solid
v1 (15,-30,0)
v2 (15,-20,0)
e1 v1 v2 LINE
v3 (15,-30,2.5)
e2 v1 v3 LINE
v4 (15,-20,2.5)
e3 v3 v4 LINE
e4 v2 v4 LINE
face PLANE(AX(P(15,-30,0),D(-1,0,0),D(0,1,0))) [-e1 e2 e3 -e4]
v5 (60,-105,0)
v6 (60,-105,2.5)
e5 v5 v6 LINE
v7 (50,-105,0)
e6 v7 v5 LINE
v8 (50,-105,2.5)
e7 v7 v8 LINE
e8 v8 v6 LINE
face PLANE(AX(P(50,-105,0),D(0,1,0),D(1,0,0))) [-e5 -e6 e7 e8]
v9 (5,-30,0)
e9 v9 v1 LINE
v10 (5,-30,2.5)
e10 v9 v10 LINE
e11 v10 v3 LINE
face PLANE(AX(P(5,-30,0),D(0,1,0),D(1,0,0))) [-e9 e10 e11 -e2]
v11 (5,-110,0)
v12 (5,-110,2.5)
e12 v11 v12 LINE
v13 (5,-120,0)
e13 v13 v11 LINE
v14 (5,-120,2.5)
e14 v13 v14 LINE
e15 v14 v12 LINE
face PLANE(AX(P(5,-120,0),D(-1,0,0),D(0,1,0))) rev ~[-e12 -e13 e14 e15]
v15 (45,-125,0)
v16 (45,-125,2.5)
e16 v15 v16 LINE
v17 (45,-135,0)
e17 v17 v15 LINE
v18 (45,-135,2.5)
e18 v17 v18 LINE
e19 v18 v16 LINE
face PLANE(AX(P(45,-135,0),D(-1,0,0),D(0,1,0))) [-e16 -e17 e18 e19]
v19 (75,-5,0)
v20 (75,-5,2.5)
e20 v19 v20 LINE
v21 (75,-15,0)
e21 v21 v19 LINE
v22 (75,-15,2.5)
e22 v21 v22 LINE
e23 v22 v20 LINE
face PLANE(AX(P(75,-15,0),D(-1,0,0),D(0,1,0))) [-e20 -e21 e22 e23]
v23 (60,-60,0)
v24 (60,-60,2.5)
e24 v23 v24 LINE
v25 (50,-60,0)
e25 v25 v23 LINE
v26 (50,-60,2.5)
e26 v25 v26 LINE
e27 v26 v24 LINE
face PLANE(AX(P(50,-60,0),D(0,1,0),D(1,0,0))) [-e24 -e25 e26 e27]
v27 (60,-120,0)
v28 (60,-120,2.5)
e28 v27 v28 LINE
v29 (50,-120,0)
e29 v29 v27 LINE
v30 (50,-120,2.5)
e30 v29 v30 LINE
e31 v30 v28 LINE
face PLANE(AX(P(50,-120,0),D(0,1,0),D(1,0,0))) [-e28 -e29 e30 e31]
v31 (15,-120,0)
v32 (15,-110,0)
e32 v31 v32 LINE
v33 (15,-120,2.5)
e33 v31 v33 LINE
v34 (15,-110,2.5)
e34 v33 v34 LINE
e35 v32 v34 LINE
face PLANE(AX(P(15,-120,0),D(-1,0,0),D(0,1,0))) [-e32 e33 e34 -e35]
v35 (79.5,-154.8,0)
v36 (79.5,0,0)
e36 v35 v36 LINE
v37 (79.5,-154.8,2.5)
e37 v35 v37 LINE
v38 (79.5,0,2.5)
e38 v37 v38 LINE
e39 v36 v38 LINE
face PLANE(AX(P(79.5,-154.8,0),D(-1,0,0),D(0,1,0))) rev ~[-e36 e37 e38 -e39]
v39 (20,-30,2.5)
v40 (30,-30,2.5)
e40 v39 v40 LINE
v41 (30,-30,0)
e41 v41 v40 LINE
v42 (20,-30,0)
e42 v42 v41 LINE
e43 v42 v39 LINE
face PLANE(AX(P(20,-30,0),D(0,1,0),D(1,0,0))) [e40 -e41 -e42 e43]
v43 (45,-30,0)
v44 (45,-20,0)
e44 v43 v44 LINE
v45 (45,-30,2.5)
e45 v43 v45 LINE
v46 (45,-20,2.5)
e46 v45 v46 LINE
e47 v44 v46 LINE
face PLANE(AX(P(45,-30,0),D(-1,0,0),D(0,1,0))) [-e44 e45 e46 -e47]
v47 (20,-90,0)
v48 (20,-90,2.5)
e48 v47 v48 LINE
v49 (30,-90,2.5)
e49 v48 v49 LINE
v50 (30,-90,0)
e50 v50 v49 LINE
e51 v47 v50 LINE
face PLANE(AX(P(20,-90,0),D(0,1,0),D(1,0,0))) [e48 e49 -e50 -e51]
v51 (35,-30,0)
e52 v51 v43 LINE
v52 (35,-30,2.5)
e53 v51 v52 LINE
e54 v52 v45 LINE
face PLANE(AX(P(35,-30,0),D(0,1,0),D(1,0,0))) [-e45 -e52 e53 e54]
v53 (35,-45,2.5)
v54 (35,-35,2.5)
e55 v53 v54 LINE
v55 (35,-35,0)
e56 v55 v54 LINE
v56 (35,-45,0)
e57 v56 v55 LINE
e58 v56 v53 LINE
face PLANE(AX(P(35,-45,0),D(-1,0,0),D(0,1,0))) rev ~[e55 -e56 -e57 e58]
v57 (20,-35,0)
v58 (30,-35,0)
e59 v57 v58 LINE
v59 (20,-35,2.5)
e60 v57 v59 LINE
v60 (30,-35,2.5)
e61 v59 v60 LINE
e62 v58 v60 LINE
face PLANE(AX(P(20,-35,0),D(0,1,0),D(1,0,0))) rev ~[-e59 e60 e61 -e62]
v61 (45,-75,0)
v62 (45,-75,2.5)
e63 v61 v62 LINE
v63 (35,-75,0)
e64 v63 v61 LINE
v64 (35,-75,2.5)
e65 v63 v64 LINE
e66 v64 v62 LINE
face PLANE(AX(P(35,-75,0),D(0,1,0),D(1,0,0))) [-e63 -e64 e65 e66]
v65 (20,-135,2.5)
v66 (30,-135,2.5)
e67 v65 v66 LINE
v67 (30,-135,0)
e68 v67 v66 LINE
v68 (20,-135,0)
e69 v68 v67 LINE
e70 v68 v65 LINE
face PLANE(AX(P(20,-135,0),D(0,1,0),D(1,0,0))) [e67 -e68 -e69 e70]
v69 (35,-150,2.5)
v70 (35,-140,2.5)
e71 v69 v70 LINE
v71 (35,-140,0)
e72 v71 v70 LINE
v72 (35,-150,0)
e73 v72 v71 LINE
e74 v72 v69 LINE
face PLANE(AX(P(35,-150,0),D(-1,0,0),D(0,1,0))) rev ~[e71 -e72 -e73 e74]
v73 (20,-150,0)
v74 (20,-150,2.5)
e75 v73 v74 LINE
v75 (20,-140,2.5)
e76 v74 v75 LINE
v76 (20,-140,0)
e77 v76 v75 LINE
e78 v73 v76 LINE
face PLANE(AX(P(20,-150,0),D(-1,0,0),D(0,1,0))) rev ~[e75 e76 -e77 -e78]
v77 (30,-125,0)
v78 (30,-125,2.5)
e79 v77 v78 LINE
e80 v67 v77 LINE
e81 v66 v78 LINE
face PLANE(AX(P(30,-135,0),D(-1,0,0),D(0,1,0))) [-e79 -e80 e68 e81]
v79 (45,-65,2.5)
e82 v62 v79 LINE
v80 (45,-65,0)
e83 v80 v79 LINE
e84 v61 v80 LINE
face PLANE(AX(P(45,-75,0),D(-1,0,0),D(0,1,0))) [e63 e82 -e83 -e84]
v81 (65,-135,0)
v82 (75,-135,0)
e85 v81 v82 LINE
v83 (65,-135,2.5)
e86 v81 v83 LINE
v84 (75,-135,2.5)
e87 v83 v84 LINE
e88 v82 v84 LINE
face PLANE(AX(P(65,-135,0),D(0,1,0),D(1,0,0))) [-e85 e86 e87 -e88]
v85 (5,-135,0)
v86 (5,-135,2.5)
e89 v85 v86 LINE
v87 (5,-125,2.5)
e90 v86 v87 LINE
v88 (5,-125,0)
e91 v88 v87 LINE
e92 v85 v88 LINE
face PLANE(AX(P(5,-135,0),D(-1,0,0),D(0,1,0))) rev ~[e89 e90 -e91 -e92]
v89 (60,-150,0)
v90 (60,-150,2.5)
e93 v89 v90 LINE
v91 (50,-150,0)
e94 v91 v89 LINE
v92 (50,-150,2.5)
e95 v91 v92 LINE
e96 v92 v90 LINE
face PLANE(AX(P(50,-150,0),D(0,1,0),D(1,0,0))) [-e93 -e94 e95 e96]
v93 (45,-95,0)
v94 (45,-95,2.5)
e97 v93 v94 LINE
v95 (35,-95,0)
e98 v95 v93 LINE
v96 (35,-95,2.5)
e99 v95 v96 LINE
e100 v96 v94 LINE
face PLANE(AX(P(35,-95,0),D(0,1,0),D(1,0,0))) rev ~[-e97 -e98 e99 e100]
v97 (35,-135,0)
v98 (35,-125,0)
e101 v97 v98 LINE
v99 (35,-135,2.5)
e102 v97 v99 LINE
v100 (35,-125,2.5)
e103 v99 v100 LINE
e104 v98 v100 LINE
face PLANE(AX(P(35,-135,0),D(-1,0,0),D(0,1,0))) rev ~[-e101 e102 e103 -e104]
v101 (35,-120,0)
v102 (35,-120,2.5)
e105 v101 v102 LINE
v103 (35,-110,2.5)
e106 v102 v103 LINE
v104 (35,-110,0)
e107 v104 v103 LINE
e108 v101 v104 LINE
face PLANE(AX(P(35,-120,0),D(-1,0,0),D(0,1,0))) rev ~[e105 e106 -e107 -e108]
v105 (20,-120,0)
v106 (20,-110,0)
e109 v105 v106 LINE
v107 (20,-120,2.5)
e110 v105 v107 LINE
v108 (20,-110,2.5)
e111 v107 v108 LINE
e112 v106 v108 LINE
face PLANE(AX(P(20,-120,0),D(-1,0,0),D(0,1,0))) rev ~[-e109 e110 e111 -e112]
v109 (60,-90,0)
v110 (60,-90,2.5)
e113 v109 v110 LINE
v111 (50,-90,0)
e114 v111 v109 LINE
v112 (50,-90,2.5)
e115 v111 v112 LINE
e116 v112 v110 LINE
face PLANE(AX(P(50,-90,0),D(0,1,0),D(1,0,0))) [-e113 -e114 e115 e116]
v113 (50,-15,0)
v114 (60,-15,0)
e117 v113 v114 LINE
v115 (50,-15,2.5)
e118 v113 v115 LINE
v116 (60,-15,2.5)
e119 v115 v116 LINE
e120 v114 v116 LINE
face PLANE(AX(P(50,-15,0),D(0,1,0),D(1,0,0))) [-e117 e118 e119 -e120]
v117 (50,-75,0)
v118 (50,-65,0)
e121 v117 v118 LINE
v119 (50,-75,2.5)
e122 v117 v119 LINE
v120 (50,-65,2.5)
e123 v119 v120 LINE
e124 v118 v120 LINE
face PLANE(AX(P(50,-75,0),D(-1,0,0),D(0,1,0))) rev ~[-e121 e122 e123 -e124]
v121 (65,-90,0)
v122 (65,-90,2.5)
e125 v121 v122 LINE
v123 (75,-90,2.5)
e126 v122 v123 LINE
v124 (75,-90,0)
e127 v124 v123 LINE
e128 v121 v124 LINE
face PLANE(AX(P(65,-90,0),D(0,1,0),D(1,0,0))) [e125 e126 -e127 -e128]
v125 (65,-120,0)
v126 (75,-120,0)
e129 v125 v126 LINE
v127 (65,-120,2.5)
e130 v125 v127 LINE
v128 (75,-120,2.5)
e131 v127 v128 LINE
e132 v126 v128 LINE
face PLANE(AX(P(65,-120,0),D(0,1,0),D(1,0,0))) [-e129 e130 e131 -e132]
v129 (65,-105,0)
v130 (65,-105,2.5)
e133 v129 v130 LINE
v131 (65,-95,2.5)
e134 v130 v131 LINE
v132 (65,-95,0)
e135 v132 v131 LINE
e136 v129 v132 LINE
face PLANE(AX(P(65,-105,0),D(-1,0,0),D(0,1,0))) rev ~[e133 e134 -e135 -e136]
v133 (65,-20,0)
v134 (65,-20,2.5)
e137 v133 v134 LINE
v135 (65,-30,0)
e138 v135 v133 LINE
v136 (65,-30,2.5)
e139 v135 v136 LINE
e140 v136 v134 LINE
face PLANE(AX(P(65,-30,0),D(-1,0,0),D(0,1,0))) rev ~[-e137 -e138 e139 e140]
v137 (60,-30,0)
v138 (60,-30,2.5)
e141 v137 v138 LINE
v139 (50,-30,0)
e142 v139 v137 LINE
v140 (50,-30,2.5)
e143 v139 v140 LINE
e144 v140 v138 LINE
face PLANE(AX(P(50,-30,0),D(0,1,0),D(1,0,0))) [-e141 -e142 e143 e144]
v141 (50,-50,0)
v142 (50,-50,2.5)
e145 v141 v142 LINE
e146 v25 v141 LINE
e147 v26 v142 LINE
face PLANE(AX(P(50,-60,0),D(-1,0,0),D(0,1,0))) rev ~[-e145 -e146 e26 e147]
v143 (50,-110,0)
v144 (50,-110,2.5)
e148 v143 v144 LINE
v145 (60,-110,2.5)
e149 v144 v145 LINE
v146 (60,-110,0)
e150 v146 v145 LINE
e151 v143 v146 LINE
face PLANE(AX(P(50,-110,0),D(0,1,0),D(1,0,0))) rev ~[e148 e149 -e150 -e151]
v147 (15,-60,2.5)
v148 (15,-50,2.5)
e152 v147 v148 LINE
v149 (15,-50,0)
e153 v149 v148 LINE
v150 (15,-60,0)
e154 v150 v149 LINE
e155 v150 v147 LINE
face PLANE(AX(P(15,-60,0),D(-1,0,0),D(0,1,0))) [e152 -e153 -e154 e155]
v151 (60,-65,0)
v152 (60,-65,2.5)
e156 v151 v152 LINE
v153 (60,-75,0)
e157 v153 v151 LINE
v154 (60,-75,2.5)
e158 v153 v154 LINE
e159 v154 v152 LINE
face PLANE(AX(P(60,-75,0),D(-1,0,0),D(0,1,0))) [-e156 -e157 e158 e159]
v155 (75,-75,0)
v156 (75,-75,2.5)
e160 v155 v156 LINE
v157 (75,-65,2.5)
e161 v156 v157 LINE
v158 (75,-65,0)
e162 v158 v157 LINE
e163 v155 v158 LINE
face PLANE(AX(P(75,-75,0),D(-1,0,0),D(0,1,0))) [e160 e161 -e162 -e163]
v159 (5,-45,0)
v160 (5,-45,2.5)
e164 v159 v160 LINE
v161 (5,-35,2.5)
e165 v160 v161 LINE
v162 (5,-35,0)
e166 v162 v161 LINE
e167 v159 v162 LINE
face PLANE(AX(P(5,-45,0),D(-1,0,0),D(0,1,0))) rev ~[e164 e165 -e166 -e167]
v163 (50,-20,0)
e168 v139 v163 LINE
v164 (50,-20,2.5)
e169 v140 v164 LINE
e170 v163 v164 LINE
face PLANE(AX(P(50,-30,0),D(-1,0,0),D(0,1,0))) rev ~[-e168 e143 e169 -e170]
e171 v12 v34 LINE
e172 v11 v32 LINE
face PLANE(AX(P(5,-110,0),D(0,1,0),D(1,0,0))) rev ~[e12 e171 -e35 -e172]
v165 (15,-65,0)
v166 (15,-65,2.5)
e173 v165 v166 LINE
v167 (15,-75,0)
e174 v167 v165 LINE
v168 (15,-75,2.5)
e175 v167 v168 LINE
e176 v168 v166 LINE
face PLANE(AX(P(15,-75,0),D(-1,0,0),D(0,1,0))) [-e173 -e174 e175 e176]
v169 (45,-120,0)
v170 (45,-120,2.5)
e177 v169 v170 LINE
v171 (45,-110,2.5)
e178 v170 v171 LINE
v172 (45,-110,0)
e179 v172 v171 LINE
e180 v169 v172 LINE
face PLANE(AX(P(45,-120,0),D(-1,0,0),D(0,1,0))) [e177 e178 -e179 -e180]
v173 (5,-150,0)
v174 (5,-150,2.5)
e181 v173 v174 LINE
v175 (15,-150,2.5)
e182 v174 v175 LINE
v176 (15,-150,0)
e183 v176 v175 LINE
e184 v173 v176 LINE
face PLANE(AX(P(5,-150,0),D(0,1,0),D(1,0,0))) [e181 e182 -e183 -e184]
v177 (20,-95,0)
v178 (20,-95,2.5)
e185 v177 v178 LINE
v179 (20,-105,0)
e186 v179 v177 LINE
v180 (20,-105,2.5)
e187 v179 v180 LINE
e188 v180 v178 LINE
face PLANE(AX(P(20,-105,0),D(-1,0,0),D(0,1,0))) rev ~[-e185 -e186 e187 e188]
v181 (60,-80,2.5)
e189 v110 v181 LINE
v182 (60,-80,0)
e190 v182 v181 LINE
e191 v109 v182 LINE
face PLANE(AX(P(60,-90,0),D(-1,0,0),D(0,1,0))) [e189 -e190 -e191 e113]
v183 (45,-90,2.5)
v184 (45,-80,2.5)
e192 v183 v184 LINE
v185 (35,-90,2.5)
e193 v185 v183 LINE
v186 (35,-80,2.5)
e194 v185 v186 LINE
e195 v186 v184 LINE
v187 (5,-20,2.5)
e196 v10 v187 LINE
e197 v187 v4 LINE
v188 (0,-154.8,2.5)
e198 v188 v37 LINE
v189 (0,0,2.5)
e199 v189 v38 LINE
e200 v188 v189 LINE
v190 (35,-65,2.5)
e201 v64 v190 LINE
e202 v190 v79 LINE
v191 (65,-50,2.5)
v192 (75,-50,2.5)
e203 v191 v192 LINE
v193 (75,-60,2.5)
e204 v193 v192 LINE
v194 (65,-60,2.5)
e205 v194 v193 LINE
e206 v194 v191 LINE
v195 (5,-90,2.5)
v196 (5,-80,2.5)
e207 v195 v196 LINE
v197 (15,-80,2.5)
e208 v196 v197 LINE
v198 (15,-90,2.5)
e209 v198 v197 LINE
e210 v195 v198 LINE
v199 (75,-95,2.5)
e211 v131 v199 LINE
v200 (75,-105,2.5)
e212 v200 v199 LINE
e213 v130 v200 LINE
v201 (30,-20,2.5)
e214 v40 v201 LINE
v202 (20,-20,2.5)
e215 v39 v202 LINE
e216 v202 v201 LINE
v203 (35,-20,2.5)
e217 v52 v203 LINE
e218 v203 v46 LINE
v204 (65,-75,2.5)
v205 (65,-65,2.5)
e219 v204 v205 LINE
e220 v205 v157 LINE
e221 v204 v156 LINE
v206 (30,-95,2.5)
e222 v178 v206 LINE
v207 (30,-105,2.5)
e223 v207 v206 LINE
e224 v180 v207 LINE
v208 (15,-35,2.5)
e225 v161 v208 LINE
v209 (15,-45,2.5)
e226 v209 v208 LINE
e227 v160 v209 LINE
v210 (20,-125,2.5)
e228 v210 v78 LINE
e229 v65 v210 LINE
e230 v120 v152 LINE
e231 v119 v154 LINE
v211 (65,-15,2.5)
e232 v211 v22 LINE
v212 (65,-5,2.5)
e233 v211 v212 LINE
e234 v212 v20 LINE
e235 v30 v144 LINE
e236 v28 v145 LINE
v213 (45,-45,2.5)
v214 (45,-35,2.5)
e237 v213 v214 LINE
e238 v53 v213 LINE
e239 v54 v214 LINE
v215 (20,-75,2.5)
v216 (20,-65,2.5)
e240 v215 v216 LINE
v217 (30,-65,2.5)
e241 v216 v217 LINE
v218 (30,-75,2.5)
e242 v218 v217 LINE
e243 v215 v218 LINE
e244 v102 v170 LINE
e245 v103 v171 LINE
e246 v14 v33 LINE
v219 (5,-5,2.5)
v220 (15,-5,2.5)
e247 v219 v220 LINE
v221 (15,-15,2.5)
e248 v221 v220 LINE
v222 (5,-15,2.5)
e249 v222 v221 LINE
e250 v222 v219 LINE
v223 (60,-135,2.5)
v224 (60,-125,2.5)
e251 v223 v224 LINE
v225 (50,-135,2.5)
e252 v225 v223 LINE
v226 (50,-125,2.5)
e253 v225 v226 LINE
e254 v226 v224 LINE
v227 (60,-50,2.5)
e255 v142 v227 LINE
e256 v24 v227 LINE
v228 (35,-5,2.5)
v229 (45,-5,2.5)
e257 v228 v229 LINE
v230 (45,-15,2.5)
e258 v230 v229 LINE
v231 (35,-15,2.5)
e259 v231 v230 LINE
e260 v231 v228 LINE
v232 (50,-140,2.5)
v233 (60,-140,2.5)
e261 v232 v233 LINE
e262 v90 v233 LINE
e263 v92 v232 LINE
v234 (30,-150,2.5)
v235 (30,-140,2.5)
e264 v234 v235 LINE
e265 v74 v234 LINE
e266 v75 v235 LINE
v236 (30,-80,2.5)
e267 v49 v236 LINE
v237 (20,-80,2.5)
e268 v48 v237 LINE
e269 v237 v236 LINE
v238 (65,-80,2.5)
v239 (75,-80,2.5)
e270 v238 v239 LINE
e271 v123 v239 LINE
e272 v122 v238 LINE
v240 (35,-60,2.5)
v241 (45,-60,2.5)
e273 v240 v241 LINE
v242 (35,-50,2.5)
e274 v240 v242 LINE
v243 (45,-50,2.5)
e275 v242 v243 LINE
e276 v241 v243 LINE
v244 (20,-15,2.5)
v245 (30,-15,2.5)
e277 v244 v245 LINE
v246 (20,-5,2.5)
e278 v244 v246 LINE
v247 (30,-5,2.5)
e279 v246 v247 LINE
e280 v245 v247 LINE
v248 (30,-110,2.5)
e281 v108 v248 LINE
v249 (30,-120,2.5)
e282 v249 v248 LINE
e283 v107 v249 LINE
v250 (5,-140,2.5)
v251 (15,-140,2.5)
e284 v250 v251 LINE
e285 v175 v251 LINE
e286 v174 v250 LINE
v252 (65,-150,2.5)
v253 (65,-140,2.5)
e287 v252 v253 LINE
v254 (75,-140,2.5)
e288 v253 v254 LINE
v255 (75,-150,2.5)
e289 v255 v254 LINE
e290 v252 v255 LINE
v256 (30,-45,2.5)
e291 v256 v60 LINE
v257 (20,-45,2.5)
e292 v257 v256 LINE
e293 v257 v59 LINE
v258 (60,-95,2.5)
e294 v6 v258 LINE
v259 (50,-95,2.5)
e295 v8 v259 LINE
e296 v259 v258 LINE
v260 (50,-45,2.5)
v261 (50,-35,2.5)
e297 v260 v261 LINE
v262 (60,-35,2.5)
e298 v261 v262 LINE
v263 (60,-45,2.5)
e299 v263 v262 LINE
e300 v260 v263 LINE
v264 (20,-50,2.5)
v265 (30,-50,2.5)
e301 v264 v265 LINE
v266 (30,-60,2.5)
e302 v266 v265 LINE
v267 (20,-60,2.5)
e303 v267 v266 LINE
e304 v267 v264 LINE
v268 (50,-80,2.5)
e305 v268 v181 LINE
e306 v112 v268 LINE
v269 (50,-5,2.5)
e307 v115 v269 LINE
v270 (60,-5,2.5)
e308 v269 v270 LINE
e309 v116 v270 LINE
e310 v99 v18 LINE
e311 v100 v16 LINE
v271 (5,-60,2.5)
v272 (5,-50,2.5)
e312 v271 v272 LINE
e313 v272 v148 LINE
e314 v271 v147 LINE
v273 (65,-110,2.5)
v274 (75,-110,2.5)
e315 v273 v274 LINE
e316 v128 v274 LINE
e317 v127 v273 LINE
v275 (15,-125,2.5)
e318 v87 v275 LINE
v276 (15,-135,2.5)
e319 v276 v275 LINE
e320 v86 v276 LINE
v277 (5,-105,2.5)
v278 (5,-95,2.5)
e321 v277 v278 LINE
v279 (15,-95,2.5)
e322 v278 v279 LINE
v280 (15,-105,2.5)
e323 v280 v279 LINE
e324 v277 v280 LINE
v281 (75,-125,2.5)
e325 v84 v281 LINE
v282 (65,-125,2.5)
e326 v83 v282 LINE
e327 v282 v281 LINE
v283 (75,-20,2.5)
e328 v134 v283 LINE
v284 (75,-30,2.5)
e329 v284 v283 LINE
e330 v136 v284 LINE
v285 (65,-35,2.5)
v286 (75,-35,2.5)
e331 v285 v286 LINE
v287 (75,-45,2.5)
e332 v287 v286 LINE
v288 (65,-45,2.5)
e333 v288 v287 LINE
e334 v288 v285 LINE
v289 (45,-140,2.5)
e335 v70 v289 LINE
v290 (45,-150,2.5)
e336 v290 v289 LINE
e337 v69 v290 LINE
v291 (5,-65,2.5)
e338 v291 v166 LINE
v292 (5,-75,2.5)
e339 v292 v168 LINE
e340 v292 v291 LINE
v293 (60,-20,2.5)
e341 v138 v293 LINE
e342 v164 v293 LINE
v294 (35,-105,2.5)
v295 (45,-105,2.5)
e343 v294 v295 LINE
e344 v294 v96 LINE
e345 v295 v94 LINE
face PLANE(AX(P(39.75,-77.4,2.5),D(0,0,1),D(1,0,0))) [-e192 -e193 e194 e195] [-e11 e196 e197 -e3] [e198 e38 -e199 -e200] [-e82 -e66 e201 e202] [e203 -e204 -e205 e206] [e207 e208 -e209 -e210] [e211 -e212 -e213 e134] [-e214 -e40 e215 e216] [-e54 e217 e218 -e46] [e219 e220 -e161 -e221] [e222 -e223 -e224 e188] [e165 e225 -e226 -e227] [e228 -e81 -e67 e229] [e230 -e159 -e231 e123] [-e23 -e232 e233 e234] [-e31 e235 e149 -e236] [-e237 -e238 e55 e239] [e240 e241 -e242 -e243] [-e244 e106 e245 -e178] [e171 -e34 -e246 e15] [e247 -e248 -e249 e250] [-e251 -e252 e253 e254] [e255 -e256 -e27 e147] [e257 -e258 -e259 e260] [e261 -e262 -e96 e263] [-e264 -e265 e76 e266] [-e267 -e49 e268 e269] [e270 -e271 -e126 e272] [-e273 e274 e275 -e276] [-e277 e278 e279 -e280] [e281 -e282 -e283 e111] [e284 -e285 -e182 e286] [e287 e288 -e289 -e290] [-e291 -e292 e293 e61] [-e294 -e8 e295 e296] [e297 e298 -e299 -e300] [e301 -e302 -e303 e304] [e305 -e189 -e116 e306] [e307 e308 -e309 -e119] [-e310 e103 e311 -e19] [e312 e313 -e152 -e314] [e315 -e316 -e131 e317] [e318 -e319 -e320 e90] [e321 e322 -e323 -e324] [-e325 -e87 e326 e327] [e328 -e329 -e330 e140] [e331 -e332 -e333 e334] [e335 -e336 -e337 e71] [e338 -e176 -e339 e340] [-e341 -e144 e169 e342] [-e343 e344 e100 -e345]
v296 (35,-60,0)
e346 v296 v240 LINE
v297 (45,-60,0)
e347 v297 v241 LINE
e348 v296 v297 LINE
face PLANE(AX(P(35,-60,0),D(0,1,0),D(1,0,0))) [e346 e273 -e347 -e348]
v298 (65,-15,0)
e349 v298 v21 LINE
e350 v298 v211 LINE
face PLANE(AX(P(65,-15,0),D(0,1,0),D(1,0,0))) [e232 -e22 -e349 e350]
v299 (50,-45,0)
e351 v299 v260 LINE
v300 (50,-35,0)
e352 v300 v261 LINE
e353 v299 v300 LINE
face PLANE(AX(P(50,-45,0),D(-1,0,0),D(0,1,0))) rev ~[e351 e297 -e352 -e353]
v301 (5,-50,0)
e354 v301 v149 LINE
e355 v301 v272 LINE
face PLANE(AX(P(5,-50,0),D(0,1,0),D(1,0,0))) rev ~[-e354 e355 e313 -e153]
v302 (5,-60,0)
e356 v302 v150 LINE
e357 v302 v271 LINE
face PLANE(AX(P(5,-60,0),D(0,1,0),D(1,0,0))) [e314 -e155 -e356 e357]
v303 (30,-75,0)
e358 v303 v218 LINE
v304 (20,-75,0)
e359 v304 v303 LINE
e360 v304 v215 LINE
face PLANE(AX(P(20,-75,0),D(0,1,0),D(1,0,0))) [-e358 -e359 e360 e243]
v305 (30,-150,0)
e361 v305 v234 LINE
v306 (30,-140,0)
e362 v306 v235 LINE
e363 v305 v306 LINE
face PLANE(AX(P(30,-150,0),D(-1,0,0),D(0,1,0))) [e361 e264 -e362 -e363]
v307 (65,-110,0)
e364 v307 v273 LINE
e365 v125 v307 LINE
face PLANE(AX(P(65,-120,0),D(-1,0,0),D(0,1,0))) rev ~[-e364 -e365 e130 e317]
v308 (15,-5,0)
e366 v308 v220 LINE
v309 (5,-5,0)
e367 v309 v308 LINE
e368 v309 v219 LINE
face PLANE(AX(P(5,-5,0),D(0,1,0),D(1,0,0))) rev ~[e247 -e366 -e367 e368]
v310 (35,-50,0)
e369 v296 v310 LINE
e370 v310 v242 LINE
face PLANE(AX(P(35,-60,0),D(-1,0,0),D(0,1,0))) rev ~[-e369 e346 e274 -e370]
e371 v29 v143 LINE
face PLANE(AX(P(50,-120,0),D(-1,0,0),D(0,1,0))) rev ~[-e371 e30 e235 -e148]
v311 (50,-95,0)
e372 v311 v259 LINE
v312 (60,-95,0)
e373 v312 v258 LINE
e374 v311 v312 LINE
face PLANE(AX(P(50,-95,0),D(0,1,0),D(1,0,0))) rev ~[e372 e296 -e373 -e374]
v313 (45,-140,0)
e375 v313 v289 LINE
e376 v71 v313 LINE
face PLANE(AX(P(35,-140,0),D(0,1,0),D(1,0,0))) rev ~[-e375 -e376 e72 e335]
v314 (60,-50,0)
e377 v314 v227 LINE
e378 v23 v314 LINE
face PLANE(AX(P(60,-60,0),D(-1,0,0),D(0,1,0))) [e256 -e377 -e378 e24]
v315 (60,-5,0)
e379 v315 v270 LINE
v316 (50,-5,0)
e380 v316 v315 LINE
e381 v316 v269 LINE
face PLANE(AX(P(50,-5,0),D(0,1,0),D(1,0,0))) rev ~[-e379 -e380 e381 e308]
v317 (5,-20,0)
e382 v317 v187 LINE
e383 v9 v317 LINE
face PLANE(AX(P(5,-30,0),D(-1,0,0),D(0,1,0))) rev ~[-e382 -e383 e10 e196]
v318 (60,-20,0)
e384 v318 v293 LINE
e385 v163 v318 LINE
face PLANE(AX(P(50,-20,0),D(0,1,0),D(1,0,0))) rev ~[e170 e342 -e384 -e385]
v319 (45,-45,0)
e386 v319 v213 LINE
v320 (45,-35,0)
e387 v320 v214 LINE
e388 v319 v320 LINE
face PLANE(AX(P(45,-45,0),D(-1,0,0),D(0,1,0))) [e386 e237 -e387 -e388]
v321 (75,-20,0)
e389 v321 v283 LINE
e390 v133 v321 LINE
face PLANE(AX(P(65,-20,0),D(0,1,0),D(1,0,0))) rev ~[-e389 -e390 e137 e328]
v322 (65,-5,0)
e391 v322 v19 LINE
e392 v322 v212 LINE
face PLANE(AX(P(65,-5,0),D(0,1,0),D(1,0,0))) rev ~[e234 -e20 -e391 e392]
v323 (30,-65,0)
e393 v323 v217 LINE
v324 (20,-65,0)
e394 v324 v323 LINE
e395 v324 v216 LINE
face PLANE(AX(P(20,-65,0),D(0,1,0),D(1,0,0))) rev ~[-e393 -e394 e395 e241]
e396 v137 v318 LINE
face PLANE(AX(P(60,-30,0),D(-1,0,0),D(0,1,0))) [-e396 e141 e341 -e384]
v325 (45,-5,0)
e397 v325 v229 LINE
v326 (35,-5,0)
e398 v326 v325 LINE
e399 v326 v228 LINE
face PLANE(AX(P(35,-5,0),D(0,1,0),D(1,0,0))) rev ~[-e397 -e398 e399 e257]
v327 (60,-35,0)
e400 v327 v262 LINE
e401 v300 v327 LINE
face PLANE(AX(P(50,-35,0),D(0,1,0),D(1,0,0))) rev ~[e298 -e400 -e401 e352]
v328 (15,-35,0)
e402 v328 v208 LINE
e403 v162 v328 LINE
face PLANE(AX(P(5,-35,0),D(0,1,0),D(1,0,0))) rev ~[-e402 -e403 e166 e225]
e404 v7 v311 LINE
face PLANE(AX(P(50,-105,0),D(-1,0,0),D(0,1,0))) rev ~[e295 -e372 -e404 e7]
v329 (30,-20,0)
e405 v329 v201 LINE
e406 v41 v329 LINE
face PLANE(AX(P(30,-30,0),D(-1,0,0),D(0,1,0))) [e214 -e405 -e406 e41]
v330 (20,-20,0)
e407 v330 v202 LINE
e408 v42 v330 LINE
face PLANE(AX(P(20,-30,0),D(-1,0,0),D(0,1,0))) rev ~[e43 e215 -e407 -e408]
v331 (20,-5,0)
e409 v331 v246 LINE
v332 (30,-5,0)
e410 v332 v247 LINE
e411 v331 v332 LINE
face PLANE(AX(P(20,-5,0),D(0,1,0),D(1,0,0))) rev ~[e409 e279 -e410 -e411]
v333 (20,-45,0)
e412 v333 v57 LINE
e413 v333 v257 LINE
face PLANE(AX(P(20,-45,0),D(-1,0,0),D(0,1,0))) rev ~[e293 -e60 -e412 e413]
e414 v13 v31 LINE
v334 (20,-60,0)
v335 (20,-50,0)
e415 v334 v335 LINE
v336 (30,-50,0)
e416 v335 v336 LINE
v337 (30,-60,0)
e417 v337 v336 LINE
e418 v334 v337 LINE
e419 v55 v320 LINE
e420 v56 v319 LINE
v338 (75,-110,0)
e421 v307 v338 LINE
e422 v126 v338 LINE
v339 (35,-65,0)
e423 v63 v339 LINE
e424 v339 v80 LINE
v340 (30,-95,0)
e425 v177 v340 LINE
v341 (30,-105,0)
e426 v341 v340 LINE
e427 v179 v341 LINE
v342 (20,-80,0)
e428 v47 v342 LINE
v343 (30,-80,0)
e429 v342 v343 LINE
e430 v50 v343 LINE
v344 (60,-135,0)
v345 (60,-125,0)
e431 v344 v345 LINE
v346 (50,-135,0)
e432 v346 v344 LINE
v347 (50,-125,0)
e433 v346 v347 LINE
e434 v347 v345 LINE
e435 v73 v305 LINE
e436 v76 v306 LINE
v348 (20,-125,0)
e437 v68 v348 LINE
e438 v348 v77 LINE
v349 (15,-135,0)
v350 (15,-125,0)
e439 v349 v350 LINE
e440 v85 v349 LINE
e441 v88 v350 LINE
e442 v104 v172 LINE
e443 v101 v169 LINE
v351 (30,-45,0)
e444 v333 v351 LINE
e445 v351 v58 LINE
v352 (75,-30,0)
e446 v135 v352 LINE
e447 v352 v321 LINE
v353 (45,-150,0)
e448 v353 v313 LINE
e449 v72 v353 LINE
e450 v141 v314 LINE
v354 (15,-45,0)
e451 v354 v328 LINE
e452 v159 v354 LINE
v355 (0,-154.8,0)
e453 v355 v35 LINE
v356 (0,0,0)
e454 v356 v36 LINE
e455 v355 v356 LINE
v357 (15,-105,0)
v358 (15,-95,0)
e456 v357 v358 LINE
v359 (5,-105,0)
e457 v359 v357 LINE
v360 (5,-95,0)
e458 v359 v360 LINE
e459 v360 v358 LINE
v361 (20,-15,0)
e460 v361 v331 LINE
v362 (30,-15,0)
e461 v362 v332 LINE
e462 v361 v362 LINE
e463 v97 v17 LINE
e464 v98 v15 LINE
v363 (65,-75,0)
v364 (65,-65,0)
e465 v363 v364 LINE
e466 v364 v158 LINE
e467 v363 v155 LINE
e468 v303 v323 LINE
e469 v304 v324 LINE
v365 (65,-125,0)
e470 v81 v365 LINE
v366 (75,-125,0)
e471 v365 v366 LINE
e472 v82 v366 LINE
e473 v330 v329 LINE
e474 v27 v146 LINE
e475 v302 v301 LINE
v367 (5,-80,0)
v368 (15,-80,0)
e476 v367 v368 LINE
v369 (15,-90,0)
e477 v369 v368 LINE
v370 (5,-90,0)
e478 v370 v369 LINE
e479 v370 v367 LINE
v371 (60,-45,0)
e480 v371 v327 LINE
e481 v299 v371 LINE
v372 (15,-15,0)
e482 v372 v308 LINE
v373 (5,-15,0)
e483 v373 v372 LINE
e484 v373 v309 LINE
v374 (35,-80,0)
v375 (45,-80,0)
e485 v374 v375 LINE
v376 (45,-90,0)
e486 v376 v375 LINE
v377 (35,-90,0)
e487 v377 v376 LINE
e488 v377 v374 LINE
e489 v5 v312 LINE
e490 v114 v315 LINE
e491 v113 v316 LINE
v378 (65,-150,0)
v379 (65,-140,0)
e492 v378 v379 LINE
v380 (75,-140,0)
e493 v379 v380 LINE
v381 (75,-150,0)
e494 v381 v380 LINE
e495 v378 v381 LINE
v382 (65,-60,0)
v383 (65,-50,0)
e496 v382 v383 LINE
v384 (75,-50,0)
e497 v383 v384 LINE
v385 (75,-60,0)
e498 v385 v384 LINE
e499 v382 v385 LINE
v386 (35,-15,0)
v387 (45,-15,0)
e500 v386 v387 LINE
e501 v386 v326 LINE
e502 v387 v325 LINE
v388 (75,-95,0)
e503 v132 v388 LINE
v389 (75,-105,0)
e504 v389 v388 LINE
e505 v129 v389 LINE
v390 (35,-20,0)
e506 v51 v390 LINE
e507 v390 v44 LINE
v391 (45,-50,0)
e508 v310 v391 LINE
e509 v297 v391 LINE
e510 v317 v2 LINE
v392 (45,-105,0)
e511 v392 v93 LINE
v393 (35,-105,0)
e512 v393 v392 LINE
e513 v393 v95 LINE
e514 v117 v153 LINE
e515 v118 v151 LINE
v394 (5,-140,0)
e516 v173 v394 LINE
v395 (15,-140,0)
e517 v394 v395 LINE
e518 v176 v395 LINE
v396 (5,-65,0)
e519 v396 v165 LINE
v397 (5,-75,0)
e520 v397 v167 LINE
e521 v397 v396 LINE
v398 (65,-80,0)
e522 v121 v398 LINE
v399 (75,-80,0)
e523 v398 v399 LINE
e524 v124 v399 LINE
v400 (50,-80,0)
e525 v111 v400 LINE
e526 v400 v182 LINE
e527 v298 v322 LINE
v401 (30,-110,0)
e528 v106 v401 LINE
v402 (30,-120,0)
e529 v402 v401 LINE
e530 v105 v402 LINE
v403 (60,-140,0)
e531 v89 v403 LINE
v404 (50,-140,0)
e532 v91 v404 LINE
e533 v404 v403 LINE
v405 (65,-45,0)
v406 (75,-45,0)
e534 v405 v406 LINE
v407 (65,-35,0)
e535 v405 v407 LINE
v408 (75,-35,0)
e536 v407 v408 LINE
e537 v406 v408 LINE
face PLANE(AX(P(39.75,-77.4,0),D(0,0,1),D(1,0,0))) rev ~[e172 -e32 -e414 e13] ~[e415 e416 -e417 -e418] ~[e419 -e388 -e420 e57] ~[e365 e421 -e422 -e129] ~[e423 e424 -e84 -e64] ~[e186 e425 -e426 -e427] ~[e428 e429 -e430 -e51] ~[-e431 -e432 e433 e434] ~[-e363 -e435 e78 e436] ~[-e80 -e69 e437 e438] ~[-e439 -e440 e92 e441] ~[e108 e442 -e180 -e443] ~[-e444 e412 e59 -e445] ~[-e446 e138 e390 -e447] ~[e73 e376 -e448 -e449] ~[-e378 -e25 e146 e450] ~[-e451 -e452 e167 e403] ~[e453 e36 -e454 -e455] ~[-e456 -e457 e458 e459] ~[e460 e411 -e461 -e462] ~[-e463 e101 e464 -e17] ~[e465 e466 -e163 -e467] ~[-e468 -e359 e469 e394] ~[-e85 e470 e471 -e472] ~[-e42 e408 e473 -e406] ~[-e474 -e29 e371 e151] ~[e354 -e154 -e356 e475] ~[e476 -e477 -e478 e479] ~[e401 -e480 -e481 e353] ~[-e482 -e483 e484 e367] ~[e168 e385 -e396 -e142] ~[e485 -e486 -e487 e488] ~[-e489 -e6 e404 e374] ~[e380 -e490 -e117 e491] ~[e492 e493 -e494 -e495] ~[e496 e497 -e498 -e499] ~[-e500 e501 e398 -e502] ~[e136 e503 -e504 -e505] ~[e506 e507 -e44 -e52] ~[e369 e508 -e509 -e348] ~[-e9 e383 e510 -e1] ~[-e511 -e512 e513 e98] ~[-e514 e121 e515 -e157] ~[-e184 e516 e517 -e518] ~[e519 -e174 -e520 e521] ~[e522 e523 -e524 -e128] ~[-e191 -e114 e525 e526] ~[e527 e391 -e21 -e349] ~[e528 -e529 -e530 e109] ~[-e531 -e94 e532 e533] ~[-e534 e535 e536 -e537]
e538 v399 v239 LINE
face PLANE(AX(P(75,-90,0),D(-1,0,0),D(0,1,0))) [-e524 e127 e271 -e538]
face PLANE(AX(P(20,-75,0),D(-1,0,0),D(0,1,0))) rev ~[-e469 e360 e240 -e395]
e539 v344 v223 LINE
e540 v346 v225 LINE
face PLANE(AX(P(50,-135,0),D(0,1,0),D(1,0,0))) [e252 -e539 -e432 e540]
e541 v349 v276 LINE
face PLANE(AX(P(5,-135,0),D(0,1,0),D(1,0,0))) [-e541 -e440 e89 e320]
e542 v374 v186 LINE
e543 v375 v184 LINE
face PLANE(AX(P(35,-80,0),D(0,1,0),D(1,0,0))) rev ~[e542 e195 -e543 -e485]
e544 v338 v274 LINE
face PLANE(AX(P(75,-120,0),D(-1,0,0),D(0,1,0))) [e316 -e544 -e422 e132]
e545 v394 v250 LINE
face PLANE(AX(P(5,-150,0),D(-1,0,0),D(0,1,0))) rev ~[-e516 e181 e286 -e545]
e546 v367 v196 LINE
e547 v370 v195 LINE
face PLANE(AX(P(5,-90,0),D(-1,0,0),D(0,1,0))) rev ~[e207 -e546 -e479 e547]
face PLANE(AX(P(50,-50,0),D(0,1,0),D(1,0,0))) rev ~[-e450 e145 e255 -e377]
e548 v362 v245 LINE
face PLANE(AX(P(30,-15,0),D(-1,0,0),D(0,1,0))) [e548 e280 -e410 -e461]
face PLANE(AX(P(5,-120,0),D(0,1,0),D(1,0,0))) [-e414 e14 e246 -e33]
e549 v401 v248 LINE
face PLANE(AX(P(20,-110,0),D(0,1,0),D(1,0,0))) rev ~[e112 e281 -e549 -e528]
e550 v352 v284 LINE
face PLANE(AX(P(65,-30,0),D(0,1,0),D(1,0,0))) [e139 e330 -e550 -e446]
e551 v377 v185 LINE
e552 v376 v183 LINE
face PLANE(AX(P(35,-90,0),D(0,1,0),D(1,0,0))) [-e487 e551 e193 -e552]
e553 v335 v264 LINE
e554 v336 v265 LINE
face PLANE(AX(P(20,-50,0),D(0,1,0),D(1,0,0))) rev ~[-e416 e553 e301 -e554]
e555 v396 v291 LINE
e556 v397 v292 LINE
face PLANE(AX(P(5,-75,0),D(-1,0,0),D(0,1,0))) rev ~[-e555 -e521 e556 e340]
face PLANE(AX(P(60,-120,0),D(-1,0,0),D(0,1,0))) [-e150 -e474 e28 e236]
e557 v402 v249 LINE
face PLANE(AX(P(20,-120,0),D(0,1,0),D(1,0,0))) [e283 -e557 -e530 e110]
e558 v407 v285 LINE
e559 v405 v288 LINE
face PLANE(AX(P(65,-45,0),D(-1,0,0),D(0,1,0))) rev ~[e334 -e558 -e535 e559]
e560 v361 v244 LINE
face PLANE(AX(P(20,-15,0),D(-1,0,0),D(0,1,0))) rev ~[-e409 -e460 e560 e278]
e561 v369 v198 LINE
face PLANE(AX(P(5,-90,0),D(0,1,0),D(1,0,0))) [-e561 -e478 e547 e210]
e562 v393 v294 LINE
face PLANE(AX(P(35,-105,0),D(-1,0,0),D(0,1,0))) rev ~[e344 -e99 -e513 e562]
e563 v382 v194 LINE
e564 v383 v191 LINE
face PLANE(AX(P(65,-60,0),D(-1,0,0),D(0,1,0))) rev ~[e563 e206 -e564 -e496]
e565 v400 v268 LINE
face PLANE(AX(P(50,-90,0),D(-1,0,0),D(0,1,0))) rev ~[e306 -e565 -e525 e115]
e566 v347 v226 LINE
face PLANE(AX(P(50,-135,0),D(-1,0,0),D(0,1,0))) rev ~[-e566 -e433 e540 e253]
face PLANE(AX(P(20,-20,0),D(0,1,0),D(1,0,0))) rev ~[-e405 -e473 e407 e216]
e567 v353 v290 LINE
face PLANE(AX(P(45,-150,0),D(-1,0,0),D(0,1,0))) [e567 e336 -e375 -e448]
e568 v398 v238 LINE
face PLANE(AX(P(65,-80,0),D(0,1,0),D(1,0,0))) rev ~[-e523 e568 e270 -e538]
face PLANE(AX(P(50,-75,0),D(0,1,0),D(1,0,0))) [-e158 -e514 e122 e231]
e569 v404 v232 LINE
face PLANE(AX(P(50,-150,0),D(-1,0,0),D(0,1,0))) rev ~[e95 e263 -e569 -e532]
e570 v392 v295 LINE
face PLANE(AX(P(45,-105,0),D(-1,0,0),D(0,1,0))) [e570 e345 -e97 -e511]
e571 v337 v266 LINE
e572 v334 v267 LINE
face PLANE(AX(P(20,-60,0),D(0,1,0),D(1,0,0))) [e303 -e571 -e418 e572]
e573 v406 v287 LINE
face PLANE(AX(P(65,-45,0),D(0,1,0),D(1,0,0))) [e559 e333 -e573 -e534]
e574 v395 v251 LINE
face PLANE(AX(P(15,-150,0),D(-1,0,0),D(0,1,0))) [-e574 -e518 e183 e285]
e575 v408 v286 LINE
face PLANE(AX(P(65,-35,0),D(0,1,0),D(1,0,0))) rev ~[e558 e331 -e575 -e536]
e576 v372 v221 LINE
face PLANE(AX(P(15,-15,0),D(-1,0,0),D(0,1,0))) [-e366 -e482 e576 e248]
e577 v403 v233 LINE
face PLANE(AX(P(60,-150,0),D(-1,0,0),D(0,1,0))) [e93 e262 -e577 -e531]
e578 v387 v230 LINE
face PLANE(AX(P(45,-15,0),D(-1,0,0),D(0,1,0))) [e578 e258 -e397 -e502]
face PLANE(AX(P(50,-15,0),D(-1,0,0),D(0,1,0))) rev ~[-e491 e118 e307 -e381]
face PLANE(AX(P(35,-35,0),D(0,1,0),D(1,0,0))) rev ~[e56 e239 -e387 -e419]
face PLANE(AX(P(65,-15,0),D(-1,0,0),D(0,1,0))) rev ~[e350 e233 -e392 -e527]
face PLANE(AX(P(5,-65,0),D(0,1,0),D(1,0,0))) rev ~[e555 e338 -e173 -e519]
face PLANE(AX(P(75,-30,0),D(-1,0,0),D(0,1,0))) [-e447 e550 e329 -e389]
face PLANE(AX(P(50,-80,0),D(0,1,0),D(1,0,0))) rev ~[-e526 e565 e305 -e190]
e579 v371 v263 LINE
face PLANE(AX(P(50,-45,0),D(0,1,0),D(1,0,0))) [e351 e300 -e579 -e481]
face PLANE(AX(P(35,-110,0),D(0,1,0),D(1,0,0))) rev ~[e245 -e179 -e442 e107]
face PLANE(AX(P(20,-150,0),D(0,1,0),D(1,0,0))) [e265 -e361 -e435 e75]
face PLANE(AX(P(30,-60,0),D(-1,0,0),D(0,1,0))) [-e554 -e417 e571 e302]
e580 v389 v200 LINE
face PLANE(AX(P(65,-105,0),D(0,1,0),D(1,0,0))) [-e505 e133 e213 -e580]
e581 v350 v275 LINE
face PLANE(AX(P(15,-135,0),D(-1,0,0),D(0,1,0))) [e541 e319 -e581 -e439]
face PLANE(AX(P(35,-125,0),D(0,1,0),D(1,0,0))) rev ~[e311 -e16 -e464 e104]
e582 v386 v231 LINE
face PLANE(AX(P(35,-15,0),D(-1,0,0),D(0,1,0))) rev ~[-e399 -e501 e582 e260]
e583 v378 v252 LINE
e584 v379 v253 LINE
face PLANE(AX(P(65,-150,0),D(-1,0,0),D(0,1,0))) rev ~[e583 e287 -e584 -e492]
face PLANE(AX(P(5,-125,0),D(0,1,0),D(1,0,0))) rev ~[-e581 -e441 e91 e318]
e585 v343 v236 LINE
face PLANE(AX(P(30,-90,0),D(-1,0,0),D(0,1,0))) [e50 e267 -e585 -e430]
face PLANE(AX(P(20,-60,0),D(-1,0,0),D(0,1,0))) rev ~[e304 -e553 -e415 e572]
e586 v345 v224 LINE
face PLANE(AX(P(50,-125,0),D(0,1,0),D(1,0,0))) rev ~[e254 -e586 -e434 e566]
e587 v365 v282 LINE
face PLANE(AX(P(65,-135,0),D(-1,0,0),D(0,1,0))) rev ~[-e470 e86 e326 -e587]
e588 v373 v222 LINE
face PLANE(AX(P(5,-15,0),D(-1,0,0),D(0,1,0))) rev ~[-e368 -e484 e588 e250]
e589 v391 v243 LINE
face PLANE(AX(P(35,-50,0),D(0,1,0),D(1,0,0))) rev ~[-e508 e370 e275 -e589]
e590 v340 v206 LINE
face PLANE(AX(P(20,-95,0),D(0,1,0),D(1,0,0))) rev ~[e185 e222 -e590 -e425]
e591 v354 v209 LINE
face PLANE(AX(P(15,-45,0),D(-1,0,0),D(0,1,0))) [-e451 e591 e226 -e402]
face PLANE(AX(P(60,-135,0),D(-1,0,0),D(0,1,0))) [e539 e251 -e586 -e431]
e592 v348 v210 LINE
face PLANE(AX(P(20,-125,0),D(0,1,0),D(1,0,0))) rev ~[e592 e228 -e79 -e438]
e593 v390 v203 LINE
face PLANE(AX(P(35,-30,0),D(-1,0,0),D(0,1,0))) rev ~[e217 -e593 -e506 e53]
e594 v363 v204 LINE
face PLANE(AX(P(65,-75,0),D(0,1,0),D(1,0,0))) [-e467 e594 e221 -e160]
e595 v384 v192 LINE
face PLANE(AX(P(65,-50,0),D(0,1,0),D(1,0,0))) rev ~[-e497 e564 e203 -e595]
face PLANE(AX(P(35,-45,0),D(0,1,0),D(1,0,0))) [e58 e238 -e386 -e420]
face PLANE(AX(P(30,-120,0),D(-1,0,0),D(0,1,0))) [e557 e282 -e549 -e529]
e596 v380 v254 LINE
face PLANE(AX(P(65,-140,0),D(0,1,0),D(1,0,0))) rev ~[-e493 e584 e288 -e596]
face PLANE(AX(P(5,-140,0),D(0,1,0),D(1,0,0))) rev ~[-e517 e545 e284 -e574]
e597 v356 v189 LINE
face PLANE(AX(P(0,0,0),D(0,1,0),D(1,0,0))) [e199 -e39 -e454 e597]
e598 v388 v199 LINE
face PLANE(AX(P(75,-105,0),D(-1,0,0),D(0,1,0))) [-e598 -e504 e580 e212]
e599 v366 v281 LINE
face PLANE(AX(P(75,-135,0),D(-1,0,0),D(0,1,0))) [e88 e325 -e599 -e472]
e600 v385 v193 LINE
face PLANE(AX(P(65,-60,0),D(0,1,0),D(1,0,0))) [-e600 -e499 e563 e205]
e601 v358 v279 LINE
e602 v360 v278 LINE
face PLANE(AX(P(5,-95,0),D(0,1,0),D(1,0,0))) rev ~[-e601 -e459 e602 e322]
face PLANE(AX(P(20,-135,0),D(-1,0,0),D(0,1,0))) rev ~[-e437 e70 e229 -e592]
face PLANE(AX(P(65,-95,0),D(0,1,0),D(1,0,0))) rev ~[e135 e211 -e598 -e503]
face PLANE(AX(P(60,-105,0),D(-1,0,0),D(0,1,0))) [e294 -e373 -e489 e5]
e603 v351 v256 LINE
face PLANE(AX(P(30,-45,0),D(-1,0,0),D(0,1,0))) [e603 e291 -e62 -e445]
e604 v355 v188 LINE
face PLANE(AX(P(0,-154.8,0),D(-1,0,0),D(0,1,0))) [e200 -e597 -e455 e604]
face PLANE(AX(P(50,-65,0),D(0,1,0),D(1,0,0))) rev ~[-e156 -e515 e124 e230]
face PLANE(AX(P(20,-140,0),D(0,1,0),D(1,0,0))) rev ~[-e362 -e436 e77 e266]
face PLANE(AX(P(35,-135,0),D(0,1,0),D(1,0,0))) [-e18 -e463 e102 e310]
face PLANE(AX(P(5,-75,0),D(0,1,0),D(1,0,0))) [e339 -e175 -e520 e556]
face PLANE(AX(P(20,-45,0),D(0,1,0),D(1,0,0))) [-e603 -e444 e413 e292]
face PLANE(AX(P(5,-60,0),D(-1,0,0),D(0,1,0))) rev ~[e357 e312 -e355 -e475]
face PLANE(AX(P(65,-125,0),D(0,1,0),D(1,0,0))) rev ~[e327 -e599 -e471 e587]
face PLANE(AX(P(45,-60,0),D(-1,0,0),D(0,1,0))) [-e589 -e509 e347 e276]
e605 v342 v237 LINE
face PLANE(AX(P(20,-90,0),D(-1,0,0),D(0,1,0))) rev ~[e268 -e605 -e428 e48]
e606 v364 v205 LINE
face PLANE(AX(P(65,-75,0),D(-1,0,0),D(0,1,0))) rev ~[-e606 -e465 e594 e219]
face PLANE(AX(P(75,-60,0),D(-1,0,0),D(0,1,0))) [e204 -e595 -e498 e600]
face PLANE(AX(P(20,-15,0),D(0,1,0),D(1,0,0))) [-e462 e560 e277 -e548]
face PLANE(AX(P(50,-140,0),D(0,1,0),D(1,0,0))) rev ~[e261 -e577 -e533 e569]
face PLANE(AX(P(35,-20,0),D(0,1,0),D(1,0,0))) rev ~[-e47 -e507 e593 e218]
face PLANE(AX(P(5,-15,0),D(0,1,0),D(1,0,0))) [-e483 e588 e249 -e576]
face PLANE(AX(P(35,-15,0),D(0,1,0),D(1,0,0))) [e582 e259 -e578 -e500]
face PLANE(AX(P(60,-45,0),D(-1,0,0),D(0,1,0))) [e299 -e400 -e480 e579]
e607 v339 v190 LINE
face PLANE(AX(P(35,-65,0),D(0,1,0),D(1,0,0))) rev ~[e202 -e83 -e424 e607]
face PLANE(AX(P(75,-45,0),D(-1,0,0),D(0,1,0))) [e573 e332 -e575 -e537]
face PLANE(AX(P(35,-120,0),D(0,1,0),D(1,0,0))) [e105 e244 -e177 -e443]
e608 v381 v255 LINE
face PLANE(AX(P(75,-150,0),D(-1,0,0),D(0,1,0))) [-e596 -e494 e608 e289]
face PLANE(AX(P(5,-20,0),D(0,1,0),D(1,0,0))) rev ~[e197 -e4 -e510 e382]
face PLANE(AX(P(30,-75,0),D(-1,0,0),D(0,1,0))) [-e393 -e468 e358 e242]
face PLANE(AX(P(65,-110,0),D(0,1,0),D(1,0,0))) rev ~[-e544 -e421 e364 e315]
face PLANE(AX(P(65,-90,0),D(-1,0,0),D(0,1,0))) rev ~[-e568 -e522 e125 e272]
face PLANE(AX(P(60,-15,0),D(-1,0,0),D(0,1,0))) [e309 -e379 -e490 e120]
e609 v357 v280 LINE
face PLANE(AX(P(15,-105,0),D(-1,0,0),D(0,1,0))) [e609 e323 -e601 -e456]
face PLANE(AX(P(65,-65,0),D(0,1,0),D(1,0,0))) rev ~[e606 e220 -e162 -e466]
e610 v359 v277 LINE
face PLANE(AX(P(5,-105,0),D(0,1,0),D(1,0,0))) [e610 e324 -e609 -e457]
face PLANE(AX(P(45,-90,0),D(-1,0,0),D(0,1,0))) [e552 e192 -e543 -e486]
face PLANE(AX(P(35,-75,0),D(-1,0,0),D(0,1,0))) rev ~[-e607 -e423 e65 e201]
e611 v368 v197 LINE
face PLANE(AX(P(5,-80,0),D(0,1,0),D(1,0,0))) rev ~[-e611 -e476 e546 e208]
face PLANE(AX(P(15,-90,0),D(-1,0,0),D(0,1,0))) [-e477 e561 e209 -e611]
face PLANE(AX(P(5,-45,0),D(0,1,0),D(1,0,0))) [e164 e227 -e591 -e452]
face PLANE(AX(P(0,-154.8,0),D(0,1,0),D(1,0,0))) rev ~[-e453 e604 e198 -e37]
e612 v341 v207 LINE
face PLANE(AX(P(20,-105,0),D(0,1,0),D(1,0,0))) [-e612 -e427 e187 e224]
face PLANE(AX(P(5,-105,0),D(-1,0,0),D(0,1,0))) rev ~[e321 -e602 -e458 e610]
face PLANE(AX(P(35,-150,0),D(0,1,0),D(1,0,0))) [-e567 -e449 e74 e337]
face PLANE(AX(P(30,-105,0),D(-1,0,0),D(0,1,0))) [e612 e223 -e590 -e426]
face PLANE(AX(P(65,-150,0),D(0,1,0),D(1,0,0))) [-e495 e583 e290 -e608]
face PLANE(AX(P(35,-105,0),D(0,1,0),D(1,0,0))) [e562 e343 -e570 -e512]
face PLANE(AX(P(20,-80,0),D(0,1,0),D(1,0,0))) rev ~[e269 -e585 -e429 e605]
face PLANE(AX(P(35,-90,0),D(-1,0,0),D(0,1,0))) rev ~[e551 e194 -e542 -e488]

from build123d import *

# Parameters (mm, degrees)
SKETCH1_W           = 79.5
SKETCH1_H           = 154.8
SKETCH1_W_2         = 10
SKETCH1_H_2         = 10
BOSS_EXTRUDE1_DEPTH = 2.5


with BuildPart() as part:
    # Sketch1 → Boss-Extrude1 (new body)
    with BuildSketch(Plane.XY):
        with Locations((39.75, -77.4)):
            Rectangle(SKETCH1_W, SKETCH1_H)
        with Locations((10, -10)):
            Rectangle(SKETCH1_W_2, SKETCH1_H_2, mode=Mode.SUBTRACT)
        with Locations((25, -10)):
            Rectangle(SKETCH1_W_2, SKETCH1_H_2, mode=Mode.SUBTRACT)
        with Locations((40, -10)):
            Rectangle(SKETCH1_W_2, SKETCH1_H_2, mode=Mode.SUBTRACT)
        with Locations((55, -10)):
            Rectangle(SKETCH1_W_2, SKETCH1_H_2, mode=Mode.SUBTRACT)
        with Locations((70, -10)):
            Rectangle(SKETCH1_W_2, SKETCH1_H_2, mode=Mode.SUBTRACT)
        with Locations((25, -25)):
            Rectangle(SKETCH1_W_2, SKETCH1_H_2, mode=Mode.SUBTRACT)
        with Locations((40, -25)):
            Rectangle(SKETCH1_W_2, SKETCH1_H_2, mode=Mode.SUBTRACT)
        with Locations((55, -25)):
            Rectangle(SKETCH1_W_2, SKETCH1_H_2, mode=Mode.SUBTRACT)
        with Locations((70, -25)):
            Rectangle(SKETCH1_W_2, SKETCH1_H_2, mode=Mode.SUBTRACT)
        with Locations((25, -40)):
            Rectangle(SKETCH1_W_2, SKETCH1_H_2, mode=Mode.SUBTRACT)
        with Locations((40, -40)):
            Rectangle(SKETCH1_W_2, SKETCH1_H_2, mode=Mode.SUBTRACT)
        with Locations((55, -40)):
            Rectangle(SKETCH1_W_2, SKETCH1_H_2, mode=Mode.SUBTRACT)
        with Locations((70, -40)):
            Rectangle(SKETCH1_W_2, SKETCH1_H_2, mode=Mode.SUBTRACT)
        with Locations((25, -55)):
            Rectangle(SKETCH1_W_2, SKETCH1_H_2, mode=Mode.SUBTRACT)
        with Locations((40, -55)):
            Rectangle(SKETCH1_W_2, SKETCH1_H_2, mode=Mode.SUBTRACT)
        with Locations((55, -55)):
            Rectangle(SKETCH1_W_2, SKETCH1_H_2, mode=Mode.SUBTRACT)
        with Locations((70, -55)):
            Rectangle(SKETCH1_W_2, SKETCH1_H_2, mode=Mode.SUBTRACT)
        with Locations((25, -70)):
            Rectangle(SKETCH1_W_2, SKETCH1_H_2, mode=Mode.SUBTRACT)
        with Locations((40, -70)):
            Rectangle(SKETCH1_W_2, SKETCH1_H_2, mode=Mode.SUBTRACT)
        with Locations((55, -70)):
            Rectangle(SKETCH1_W_2, SKETCH1_H_2, mode=Mode.SUBTRACT)
        with Locations((70, -70)):
            Rectangle(SKETCH1_W_2, SKETCH1_H_2, mode=Mode.SUBTRACT)
        with Locations((25, -85)):
            Rectangle(SKETCH1_W_2, SKETCH1_H_2, mode=Mode.SUBTRACT)
        with Locations((40, -85)):
            Rectangle(SKETCH1_W_2, SKETCH1_H_2, mode=Mode.SUBTRACT)
        with Locations((55, -85)):
            Rectangle(SKETCH1_W_2, SKETCH1_H_2, mode=Mode.SUBTRACT)
        with Locations((70, -85)):
            Rectangle(SKETCH1_W_2, SKETCH1_H_2, mode=Mode.SUBTRACT)
        with Locations((25, -100)):
            Rectangle(SKETCH1_W_2, SKETCH1_H_2, mode=Mode.SUBTRACT)
        with Locations((40, -100)):
            Rectangle(SKETCH1_W_2, SKETCH1_H_2, mode=Mode.SUBTRACT)
        with Locations((55, -100)):
            Rectangle(SKETCH1_W_2, SKETCH1_H_2, mode=Mode.SUBTRACT)
        with Locations((70, -100)):
            Rectangle(SKETCH1_W_2, SKETCH1_H_2, mode=Mode.SUBTRACT)
        with Locations((25, -115)):
            Rectangle(SKETCH1_W_2, SKETCH1_H_2, mode=Mode.SUBTRACT)
        with Locations((40, -115)):
            Rectangle(SKETCH1_W_2, SKETCH1_H_2, mode=Mode.SUBTRACT)
        with Locations((55, -115)):
            Rectangle(SKETCH1_W_2, SKETCH1_H_2, mode=Mode.SUBTRACT)
        with Locations((70, -115)):
            Rectangle(SKETCH1_W_2, SKETCH1_H_2, mode=Mode.SUBTRACT)
        with Locations((25, -130)):
            Rectangle(SKETCH1_W_2, SKETCH1_H_2, mode=Mode.SUBTRACT)
        with Locations((40, -130)):
            Rectangle(SKETCH1_W_2, SKETCH1_H_2, mode=Mode.SUBTRACT)
        with Locations((55, -130)):
            Rectangle(SKETCH1_W_2, SKETCH1_H_2, mode=Mode.SUBTRACT)
        with Locations((70, -130)):
            Rectangle(SKETCH1_W_2, SKETCH1_H_2, mode=Mode.SUBTRACT)
        with Locations((25, -145)):
            Rectangle(SKETCH1_W_2, SKETCH1_H_2, mode=Mode.SUBTRACT)
        with Locations((40, -145)):
            Rectangle(SKETCH1_W_2, SKETCH1_H_2, mode=Mode.SUBTRACT)
        with Locations((55, -145)):
            Rectangle(SKETCH1_W_2, SKETCH1_H_2, mode=Mode.SUBTRACT)
        with Locations((70, -145)):
            Rectangle(SKETCH1_W_2, SKETCH1_H_2, mode=Mode.SUBTRACT)
        with Locations((10, -25)):
            Rectangle(SKETCH1_W_2, SKETCH1_H_2, mode=Mode.SUBTRACT)
        with Locations((10, -40)):
            Rectangle(SKETCH1_W_2, SKETCH1_H_2, mode=Mode.SUBTRACT)
        with Locations((10, -55)):
            Rectangle(SKETCH1_W_2, SKETCH1_H_2, mode=Mode.SUBTRACT)
        with Locations((10, -70)):
            Rectangle(SKETCH1_W_2, SKETCH1_H_2, mode=Mode.SUBTRACT)
        with Locations((10, -85)):
            Rectangle(SKETCH1_W_2, SKETCH1_H_2, mode=Mode.SUBTRACT)
        with Locations((10, -100)):
            Rectangle(SKETCH1_W_2, SKETCH1_H_2, mode=Mode.SUBTRACT)
        with Locations((10, -115)):
            Rectangle(SKETCH1_W_2, SKETCH1_H_2, mode=Mode.SUBTRACT)
        with Locations((10, -130)):
            Rectangle(SKETCH1_W_2, SKETCH1_H_2, mode=Mode.SUBTRACT)
        with Locations((10, -145)):
            Rectangle(SKETCH1_W_2, SKETCH1_H_2, mode=Mode.SUBTRACT)
    extrude(amount=BOSS_EXTRUDE1_DEPTH)


solid = part.part
